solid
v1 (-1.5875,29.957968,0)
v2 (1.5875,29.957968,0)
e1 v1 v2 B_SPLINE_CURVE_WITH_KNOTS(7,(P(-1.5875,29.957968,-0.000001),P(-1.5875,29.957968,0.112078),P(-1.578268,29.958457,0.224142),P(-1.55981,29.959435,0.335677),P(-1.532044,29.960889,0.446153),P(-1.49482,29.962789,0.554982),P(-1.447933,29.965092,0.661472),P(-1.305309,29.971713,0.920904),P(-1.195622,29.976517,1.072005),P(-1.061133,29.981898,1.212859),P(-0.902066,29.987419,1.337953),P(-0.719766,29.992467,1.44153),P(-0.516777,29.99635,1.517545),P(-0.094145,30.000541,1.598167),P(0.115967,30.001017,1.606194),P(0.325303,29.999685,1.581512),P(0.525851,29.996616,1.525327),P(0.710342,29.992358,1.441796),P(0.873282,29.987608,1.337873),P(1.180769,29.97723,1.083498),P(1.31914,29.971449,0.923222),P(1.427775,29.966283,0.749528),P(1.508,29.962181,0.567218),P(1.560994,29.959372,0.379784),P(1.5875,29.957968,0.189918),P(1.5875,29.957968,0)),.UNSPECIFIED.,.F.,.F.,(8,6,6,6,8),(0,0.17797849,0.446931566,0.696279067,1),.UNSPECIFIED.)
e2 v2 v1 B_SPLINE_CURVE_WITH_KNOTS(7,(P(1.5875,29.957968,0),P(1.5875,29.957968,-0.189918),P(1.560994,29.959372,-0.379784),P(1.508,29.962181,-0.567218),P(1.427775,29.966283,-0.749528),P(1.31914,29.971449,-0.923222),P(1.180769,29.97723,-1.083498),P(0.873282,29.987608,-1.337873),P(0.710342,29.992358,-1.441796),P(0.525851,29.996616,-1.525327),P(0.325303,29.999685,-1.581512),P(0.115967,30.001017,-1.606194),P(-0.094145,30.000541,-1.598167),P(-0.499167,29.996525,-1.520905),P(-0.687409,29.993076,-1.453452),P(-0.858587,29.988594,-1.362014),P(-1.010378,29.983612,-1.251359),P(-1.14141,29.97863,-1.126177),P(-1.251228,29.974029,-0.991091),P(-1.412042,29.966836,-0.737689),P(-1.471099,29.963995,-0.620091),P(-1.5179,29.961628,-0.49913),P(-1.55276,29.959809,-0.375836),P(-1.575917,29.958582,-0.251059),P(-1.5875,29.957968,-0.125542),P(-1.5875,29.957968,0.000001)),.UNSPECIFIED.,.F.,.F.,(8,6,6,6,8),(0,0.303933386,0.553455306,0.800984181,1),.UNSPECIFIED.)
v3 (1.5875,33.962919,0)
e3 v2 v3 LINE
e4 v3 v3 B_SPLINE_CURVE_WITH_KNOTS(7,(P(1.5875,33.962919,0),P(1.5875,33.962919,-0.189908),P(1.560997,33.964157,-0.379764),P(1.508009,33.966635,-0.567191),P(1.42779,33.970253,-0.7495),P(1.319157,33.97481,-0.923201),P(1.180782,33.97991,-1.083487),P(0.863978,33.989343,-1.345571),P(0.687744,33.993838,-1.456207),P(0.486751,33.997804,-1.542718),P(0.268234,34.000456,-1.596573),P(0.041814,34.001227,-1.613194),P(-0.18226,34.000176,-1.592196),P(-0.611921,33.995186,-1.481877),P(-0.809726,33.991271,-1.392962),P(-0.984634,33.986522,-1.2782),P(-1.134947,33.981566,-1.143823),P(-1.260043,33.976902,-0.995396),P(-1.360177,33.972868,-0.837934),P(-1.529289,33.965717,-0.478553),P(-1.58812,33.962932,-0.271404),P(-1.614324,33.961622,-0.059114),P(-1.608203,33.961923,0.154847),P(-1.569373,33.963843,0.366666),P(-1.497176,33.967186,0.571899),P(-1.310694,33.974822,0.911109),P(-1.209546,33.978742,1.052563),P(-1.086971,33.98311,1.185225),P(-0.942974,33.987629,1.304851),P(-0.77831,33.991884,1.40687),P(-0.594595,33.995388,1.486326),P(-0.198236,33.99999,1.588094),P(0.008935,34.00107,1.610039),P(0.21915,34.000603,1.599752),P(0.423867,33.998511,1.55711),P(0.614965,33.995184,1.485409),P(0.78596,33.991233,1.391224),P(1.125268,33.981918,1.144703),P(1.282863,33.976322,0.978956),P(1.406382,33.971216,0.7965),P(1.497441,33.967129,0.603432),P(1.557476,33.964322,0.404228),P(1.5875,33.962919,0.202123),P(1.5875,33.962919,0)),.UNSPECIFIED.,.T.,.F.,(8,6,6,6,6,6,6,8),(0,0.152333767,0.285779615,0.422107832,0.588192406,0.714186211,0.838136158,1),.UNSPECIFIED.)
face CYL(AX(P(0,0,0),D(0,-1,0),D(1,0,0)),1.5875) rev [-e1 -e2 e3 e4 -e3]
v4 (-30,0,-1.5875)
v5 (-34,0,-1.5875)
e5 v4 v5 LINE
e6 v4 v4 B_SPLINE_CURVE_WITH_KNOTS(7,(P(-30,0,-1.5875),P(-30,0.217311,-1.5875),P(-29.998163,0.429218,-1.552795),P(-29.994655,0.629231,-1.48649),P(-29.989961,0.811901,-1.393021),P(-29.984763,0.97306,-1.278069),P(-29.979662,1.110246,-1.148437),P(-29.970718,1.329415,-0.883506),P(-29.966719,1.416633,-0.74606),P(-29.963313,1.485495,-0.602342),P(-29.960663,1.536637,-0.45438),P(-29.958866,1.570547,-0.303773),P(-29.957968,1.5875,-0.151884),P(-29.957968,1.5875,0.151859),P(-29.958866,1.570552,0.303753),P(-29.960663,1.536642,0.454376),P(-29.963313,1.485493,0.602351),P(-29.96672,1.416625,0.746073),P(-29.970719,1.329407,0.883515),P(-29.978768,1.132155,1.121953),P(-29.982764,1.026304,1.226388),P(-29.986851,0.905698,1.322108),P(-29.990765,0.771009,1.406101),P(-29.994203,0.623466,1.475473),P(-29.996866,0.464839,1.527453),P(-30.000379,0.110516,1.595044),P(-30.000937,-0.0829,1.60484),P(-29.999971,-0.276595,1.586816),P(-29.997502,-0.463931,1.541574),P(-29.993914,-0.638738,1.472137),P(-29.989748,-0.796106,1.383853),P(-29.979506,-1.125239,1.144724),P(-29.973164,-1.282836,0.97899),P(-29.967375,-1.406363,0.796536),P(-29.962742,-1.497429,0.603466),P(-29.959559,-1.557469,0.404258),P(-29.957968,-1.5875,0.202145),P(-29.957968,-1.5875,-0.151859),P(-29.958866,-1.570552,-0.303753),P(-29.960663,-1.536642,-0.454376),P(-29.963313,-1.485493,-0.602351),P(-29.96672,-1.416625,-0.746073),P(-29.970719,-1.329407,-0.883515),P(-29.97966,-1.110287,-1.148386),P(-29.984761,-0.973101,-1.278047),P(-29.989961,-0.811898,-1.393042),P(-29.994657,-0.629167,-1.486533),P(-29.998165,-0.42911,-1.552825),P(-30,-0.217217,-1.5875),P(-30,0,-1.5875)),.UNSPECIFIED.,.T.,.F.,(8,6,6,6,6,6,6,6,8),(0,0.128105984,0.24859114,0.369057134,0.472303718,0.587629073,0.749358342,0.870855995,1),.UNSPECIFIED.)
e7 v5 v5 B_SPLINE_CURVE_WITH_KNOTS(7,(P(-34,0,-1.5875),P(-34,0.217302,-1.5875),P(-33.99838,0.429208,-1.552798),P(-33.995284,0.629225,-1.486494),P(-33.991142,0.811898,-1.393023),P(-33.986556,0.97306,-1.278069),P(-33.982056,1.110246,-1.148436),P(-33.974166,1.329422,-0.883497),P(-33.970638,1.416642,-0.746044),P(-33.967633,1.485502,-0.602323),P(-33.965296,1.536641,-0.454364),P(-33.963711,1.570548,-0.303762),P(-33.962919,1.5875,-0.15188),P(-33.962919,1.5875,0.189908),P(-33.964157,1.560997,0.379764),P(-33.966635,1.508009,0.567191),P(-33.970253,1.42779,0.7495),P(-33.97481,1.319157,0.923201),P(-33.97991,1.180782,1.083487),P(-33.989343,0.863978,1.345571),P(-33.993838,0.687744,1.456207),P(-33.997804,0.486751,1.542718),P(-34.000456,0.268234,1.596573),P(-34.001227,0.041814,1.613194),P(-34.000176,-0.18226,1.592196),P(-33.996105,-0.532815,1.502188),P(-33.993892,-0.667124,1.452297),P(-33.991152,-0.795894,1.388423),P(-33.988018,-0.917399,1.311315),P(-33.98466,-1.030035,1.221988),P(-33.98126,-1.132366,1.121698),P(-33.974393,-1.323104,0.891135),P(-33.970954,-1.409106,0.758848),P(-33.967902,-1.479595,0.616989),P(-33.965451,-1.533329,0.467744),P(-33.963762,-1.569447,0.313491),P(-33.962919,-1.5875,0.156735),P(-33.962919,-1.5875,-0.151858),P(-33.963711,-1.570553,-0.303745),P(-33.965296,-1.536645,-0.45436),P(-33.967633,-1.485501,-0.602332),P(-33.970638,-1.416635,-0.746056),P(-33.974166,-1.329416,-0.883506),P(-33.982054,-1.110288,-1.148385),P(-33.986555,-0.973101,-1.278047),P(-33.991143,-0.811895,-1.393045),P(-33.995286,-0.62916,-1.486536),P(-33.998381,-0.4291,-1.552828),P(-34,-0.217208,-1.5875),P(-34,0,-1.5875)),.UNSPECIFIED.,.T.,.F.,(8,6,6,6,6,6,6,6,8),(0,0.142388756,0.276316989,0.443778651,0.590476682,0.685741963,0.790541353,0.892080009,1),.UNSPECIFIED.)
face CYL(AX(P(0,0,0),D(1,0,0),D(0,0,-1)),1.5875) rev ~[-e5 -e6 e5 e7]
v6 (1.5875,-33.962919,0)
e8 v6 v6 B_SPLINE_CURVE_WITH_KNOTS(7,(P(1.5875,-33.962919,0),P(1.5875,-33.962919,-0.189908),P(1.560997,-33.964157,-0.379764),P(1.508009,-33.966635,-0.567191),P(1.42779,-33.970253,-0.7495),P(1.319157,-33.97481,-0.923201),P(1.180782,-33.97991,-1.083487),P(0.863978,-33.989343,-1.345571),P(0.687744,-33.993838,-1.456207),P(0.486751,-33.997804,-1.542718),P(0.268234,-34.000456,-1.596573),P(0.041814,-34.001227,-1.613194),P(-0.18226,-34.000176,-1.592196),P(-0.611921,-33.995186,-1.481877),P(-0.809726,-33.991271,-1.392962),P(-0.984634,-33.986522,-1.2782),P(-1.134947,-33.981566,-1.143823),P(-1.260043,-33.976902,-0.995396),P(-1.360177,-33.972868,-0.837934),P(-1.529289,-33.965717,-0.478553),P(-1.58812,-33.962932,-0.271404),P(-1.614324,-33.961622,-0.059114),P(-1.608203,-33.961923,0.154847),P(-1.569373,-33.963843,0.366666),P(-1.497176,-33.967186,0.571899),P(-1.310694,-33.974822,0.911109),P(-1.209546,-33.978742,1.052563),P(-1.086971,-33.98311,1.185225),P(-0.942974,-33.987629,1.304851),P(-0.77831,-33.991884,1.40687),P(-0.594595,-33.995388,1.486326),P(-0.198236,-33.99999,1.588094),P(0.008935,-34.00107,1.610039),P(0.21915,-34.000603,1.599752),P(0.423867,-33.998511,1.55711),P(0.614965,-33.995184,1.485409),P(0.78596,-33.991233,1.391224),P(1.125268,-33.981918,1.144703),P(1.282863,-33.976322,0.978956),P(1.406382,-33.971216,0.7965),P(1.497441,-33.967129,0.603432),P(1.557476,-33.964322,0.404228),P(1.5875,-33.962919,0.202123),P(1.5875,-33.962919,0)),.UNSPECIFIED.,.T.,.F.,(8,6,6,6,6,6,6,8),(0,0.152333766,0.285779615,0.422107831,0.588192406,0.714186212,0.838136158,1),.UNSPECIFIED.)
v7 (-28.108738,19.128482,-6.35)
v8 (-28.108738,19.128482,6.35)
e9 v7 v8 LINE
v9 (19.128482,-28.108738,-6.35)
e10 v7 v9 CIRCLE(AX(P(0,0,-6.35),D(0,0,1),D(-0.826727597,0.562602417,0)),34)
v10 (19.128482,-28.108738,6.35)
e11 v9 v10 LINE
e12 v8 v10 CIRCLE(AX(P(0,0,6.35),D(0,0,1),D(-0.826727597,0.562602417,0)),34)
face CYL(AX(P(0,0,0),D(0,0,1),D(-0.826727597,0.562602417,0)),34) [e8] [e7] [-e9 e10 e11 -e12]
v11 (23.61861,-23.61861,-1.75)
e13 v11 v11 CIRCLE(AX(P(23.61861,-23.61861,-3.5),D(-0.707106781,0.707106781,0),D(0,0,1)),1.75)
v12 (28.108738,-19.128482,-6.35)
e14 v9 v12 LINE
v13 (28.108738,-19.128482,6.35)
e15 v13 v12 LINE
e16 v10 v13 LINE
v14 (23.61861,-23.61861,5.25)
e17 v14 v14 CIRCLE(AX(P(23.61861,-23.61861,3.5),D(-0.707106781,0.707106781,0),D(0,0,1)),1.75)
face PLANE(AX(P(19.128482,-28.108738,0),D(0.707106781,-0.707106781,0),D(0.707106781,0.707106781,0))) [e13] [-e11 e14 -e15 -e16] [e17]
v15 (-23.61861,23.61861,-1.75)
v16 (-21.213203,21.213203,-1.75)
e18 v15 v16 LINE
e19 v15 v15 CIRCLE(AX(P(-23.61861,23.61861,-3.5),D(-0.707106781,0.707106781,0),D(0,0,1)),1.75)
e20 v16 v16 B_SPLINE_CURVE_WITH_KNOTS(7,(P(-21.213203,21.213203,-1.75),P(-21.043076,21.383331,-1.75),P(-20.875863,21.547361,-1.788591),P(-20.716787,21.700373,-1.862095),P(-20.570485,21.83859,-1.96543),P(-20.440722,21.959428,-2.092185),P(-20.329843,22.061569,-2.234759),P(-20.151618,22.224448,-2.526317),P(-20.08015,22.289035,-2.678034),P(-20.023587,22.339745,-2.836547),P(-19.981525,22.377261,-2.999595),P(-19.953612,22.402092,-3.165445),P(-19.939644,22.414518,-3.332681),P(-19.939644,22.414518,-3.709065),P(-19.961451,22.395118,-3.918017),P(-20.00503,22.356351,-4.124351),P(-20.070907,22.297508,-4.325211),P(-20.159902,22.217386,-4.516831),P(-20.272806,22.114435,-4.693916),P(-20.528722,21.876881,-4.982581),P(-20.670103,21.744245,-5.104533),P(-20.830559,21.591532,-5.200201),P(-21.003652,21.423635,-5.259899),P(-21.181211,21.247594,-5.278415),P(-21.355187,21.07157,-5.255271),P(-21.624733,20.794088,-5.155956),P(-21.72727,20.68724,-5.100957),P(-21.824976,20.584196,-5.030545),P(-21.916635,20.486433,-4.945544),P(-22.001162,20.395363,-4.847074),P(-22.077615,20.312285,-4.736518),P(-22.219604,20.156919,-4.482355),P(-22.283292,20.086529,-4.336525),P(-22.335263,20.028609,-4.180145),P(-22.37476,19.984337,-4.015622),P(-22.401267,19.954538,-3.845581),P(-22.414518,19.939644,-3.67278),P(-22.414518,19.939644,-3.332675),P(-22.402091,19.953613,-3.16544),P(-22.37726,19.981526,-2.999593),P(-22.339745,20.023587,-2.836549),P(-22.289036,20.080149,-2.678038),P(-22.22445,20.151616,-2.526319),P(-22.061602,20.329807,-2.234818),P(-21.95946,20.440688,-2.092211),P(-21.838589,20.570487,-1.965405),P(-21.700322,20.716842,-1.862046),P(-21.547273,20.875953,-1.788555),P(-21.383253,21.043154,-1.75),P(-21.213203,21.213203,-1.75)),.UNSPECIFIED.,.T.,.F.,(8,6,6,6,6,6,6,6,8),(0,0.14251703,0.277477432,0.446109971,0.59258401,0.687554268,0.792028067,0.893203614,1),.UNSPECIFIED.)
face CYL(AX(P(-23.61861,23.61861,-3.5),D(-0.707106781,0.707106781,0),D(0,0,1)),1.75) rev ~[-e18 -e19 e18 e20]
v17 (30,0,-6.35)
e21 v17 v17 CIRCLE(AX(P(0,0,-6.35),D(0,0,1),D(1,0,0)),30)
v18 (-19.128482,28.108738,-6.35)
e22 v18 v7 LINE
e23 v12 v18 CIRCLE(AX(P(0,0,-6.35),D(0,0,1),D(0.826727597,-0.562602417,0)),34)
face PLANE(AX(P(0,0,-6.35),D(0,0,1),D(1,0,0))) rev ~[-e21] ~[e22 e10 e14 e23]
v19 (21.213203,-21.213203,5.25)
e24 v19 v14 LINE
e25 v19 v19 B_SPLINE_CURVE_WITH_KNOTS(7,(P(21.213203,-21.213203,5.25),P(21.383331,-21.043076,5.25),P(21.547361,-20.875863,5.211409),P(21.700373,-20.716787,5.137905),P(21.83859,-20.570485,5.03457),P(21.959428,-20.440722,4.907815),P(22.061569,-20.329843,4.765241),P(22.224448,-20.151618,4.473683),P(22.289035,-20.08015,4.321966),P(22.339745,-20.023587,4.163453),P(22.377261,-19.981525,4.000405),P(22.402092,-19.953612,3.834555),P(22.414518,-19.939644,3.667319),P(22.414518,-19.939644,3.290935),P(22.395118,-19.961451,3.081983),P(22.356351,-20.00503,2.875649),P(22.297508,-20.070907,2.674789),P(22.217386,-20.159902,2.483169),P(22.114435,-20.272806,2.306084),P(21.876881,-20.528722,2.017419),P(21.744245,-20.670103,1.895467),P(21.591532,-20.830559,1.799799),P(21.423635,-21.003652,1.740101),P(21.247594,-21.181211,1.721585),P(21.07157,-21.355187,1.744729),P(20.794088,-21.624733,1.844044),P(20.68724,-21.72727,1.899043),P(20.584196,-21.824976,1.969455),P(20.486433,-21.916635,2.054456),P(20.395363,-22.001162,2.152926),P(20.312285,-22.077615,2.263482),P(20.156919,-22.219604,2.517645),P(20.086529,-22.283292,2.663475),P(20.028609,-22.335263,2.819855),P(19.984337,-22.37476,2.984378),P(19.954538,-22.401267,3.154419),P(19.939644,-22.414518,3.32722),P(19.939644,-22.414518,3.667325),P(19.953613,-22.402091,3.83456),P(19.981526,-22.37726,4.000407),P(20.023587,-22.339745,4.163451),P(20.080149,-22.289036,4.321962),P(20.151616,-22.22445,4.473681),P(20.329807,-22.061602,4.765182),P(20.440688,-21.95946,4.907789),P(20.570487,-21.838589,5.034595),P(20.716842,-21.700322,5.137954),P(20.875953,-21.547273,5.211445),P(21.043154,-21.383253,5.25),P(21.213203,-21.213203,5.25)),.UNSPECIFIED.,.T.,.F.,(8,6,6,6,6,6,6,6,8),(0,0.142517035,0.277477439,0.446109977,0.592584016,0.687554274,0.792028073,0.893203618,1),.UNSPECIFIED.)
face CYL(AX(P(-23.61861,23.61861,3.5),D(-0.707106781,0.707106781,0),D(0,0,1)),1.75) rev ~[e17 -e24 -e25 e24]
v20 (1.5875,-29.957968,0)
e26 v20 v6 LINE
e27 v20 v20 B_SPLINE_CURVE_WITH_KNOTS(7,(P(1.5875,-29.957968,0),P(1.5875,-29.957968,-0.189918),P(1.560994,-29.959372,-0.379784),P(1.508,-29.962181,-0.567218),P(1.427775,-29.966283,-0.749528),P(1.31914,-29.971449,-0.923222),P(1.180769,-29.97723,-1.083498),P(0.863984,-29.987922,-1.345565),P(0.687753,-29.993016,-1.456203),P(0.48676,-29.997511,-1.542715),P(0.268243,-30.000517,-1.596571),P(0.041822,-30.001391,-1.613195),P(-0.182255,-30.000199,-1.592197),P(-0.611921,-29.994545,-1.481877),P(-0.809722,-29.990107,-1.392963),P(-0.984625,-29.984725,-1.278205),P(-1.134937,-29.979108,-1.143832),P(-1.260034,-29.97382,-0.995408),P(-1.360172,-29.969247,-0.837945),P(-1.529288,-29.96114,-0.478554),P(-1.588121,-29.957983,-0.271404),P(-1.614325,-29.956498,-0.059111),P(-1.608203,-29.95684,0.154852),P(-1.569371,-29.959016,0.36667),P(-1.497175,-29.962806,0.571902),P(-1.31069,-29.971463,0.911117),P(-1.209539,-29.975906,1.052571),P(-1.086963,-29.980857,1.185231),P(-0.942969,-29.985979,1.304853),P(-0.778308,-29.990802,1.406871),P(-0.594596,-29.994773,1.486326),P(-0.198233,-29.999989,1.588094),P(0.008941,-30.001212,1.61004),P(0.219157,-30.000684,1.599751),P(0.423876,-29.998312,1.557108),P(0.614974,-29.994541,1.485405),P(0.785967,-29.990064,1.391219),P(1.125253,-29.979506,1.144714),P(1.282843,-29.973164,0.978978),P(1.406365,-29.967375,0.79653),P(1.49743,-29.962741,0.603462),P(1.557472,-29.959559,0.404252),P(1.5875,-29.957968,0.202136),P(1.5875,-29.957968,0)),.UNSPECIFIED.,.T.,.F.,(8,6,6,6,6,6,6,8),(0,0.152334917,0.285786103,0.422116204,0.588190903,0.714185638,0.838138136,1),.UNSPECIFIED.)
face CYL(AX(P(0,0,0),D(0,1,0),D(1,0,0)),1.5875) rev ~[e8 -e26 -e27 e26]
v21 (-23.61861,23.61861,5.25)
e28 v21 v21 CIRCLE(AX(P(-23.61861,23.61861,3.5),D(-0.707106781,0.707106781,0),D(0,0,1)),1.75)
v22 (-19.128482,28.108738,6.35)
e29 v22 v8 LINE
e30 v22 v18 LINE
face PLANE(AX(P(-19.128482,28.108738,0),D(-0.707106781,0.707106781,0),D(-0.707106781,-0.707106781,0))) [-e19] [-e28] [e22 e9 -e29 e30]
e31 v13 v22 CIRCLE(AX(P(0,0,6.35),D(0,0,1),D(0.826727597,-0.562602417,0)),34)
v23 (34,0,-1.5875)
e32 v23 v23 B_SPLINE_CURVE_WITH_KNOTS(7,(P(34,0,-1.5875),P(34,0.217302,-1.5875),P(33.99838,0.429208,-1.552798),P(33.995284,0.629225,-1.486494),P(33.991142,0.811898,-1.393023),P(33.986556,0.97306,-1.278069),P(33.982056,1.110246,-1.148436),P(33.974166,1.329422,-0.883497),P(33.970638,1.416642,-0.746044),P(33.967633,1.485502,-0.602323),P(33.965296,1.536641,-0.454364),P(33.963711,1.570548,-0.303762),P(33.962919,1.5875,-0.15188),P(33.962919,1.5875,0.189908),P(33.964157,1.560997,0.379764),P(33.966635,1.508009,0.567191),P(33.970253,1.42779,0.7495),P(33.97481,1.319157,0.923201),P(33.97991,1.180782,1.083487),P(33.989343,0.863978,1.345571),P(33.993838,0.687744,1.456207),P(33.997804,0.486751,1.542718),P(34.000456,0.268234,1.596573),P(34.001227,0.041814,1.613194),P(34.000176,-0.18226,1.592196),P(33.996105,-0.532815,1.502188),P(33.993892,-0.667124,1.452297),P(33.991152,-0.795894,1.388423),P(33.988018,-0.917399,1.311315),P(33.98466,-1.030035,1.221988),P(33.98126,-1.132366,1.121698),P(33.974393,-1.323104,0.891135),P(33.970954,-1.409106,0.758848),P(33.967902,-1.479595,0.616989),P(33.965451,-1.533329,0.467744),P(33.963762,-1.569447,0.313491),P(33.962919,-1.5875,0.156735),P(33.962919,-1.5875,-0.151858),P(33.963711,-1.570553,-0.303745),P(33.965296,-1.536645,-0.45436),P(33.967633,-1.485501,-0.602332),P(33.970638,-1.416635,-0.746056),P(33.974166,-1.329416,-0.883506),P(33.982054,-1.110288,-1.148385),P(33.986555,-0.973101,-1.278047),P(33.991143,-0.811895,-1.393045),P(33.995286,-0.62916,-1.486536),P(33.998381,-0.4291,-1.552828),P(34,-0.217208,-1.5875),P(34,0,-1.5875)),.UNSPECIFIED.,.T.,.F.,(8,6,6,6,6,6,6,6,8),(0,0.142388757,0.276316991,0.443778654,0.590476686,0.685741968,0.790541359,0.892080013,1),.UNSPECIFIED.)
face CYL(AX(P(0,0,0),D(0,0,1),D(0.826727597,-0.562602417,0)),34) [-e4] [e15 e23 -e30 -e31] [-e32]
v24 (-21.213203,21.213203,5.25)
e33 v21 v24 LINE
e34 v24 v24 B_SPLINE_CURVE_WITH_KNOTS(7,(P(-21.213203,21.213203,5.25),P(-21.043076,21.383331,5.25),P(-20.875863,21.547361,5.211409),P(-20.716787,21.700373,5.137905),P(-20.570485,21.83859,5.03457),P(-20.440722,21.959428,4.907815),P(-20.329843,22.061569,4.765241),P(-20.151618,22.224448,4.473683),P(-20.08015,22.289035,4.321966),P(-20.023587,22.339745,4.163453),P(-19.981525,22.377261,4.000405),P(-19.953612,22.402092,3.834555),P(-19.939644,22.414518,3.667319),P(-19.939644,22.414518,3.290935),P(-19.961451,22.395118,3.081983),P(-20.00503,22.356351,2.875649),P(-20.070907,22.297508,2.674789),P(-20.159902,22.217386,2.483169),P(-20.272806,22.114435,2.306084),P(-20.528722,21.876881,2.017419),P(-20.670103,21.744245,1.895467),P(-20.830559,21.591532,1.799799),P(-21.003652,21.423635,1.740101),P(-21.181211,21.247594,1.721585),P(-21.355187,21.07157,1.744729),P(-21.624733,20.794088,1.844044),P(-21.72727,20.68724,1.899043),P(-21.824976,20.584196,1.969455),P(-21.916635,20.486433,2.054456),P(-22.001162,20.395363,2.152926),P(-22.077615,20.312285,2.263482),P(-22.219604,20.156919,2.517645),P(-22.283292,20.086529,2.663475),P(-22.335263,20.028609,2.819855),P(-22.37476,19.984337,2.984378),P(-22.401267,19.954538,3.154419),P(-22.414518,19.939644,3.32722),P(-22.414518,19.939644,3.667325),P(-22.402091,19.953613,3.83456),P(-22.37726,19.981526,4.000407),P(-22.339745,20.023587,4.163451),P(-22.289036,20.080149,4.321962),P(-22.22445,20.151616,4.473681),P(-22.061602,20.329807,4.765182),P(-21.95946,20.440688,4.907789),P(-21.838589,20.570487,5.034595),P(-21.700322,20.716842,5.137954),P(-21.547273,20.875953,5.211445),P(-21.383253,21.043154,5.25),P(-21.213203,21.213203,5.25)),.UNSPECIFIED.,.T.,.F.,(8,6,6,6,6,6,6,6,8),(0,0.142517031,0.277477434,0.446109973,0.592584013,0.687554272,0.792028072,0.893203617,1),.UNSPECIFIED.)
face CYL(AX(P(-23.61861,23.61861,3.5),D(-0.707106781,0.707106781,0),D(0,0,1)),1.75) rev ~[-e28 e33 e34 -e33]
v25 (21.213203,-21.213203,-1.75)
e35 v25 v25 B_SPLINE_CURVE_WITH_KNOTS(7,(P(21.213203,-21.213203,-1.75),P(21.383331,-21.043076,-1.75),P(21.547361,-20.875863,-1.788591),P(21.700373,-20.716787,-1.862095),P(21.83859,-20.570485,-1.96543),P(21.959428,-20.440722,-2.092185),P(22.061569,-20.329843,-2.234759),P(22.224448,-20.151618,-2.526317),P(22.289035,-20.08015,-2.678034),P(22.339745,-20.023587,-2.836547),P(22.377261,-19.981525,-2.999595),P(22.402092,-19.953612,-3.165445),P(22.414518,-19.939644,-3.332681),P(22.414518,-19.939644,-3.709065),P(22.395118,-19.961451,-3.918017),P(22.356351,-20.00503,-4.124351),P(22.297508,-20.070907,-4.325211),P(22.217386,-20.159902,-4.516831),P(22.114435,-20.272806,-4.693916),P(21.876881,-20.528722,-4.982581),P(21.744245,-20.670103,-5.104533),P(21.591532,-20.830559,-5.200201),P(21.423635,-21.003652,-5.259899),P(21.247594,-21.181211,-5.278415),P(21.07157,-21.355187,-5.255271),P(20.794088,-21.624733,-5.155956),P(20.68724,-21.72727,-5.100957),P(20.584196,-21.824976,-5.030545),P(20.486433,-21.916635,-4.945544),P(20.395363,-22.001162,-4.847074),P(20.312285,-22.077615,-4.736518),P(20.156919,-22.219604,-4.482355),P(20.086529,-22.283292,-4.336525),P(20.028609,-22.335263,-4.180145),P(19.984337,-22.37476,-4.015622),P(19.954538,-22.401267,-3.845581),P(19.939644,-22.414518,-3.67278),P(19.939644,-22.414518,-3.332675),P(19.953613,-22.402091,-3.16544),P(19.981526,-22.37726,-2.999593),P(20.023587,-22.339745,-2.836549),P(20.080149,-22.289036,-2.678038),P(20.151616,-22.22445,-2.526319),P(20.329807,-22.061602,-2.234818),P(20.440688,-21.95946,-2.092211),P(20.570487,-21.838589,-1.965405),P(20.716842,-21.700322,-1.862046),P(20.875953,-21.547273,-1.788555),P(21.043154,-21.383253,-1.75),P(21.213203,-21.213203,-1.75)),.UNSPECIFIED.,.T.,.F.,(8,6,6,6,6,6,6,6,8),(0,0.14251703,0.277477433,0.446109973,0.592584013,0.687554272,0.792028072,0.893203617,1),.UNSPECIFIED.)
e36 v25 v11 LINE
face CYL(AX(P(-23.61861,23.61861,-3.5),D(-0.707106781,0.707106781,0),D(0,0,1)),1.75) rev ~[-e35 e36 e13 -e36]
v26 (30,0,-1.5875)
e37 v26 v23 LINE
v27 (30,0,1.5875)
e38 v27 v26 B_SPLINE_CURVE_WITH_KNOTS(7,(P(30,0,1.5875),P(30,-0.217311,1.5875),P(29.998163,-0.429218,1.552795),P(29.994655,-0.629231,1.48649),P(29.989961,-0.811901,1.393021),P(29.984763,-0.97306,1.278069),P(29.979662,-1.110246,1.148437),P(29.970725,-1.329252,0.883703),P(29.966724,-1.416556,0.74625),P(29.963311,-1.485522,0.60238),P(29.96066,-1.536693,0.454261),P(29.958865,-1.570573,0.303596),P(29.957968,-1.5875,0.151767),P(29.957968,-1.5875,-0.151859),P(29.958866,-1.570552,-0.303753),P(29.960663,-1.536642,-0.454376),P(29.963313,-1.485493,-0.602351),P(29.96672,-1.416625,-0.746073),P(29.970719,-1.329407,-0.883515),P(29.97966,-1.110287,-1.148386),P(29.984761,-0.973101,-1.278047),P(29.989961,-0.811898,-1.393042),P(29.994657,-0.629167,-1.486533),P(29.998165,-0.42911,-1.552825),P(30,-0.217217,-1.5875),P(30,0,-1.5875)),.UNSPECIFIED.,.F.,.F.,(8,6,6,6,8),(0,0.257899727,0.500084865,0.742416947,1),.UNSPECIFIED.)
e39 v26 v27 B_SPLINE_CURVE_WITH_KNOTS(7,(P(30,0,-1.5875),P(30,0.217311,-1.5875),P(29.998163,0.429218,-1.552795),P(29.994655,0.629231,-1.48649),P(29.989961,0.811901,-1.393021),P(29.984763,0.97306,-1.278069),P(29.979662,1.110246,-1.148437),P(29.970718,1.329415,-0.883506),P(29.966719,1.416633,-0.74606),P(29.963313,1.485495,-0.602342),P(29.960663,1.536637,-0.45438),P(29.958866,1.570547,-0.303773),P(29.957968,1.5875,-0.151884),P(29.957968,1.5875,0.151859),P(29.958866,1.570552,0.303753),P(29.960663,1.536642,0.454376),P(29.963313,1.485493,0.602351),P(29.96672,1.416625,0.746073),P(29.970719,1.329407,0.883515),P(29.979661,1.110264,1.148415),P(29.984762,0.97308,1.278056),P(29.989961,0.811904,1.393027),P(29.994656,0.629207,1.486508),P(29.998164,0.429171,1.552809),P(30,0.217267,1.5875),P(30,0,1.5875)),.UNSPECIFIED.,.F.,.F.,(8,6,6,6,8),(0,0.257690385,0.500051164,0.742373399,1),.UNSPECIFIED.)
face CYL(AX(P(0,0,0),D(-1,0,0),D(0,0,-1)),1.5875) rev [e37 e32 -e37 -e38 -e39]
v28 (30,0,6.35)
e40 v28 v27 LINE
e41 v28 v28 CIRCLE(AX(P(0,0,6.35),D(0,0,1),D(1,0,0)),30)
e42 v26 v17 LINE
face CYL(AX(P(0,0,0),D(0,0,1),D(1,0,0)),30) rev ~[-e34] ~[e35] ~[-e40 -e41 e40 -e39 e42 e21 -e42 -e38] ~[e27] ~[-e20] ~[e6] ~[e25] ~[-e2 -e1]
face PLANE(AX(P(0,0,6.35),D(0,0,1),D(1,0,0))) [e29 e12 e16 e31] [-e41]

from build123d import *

# Parameters (mm, degrees)
CROQUIS1_R                   = 30
SALIENTE_EXTRUIR1_DEPTH      = 6.35
SALIENTE_EXTRUIR1_DEPTH_BACK = 6.35
CROQUIS3_R                   = 1.5875
CORTAR_EXTRUIR1_DEPTH        = 35
CORTAR_EXTRUIR1_DEPTH_BACK   = 35
CROQUIS4_R                   = 1.5875
CORTAR_EXTRUIR2_DEPTH        = 35.0000001
CORTAR_EXTRUIR2_DEPTH_BACK   = 35.0000001
CROQUIS5_R                   = 1.75
CORTAR_EXTRUIR3_DEPTH        = 82.485020219


with BuildPart() as part:
    # Croquis1 → Saliente-Extruir1 (new body, two sides)
    with BuildSketch(Plane.XY) as saliente_extruir1_sk:
        with BuildLine():
            Line((-19.128482186, 28.108738308), (-28.108738308, 19.128482186))
            ThreePointArc((-28.108738308, 19.128482186), (-24.04163056, -24.04163056), (19.128482186, -28.108738308))
            Line((19.128482186, -28.108738308), (28.108738308, -19.128482186))
            ThreePointArc((28.108738308, -19.128482186), (24.04163056, 24.04163056), (-19.128482186, 28.108738308))
        make_face()
        Circle(CROQUIS1_R, mode=Mode.SUBTRACT)
    extrude(amount=SALIENTE_EXTRUIR1_DEPTH)
    extrude(saliente_extruir1_sk.sketch, amount=-SALIENTE_EXTRUIR1_DEPTH_BACK)

    # Croquis3 → Cortar-Extruir1 (cut, two sides)
    with BuildSketch(Plane(origin=(0, 0, 0), x_dir=(1, 0, 0), z_dir=(0, 1, 0))) as cortar_extruir1_sk:
        Circle(CROQUIS3_R)
    extrude(amount=CORTAR_EXTRUIR1_DEPTH, mode=Mode.SUBTRACT)
    extrude(cortar_extruir1_sk.sketch, amount=-CORTAR_EXTRUIR1_DEPTH_BACK, mode=Mode.SUBTRACT)

    # Croquis4 → Cortar-Extruir2 (cut, two sides)
    with BuildSketch(Plane(origin=(0, 0, 0), x_dir=(0, 0, -1), z_dir=(1, 0, 0))) as cortar_extruir2_sk:
        Circle(CROQUIS4_R)
    extrude(amount=CORTAR_EXTRUIR2_DEPTH, mode=Mode.SUBTRACT)
    extrude(cortar_extruir2_sk.sketch, amount=-CORTAR_EXTRUIR2_DEPTH_BACK, mode=Mode.SUBTRACT)

    # Croquis5 → Cortar-Extruir3 (cut, through all)
    with BuildSketch(Plane(origin=(-23.618610247, 23.618610247, 0), x_dir=(0, 0, 1), z_dir=(-0.707106781, 0.707106781, 0))):
        with Locations((-3.5, 0)):
            Circle(CROQUIS5_R)
        with Locations((3.5, 0)):
            Circle(CROQUIS5_R)
    extrude(amount=-CORTAR_EXTRUIR3_DEPTH, mode=Mode.SUBTRACT)


solid = part.part
